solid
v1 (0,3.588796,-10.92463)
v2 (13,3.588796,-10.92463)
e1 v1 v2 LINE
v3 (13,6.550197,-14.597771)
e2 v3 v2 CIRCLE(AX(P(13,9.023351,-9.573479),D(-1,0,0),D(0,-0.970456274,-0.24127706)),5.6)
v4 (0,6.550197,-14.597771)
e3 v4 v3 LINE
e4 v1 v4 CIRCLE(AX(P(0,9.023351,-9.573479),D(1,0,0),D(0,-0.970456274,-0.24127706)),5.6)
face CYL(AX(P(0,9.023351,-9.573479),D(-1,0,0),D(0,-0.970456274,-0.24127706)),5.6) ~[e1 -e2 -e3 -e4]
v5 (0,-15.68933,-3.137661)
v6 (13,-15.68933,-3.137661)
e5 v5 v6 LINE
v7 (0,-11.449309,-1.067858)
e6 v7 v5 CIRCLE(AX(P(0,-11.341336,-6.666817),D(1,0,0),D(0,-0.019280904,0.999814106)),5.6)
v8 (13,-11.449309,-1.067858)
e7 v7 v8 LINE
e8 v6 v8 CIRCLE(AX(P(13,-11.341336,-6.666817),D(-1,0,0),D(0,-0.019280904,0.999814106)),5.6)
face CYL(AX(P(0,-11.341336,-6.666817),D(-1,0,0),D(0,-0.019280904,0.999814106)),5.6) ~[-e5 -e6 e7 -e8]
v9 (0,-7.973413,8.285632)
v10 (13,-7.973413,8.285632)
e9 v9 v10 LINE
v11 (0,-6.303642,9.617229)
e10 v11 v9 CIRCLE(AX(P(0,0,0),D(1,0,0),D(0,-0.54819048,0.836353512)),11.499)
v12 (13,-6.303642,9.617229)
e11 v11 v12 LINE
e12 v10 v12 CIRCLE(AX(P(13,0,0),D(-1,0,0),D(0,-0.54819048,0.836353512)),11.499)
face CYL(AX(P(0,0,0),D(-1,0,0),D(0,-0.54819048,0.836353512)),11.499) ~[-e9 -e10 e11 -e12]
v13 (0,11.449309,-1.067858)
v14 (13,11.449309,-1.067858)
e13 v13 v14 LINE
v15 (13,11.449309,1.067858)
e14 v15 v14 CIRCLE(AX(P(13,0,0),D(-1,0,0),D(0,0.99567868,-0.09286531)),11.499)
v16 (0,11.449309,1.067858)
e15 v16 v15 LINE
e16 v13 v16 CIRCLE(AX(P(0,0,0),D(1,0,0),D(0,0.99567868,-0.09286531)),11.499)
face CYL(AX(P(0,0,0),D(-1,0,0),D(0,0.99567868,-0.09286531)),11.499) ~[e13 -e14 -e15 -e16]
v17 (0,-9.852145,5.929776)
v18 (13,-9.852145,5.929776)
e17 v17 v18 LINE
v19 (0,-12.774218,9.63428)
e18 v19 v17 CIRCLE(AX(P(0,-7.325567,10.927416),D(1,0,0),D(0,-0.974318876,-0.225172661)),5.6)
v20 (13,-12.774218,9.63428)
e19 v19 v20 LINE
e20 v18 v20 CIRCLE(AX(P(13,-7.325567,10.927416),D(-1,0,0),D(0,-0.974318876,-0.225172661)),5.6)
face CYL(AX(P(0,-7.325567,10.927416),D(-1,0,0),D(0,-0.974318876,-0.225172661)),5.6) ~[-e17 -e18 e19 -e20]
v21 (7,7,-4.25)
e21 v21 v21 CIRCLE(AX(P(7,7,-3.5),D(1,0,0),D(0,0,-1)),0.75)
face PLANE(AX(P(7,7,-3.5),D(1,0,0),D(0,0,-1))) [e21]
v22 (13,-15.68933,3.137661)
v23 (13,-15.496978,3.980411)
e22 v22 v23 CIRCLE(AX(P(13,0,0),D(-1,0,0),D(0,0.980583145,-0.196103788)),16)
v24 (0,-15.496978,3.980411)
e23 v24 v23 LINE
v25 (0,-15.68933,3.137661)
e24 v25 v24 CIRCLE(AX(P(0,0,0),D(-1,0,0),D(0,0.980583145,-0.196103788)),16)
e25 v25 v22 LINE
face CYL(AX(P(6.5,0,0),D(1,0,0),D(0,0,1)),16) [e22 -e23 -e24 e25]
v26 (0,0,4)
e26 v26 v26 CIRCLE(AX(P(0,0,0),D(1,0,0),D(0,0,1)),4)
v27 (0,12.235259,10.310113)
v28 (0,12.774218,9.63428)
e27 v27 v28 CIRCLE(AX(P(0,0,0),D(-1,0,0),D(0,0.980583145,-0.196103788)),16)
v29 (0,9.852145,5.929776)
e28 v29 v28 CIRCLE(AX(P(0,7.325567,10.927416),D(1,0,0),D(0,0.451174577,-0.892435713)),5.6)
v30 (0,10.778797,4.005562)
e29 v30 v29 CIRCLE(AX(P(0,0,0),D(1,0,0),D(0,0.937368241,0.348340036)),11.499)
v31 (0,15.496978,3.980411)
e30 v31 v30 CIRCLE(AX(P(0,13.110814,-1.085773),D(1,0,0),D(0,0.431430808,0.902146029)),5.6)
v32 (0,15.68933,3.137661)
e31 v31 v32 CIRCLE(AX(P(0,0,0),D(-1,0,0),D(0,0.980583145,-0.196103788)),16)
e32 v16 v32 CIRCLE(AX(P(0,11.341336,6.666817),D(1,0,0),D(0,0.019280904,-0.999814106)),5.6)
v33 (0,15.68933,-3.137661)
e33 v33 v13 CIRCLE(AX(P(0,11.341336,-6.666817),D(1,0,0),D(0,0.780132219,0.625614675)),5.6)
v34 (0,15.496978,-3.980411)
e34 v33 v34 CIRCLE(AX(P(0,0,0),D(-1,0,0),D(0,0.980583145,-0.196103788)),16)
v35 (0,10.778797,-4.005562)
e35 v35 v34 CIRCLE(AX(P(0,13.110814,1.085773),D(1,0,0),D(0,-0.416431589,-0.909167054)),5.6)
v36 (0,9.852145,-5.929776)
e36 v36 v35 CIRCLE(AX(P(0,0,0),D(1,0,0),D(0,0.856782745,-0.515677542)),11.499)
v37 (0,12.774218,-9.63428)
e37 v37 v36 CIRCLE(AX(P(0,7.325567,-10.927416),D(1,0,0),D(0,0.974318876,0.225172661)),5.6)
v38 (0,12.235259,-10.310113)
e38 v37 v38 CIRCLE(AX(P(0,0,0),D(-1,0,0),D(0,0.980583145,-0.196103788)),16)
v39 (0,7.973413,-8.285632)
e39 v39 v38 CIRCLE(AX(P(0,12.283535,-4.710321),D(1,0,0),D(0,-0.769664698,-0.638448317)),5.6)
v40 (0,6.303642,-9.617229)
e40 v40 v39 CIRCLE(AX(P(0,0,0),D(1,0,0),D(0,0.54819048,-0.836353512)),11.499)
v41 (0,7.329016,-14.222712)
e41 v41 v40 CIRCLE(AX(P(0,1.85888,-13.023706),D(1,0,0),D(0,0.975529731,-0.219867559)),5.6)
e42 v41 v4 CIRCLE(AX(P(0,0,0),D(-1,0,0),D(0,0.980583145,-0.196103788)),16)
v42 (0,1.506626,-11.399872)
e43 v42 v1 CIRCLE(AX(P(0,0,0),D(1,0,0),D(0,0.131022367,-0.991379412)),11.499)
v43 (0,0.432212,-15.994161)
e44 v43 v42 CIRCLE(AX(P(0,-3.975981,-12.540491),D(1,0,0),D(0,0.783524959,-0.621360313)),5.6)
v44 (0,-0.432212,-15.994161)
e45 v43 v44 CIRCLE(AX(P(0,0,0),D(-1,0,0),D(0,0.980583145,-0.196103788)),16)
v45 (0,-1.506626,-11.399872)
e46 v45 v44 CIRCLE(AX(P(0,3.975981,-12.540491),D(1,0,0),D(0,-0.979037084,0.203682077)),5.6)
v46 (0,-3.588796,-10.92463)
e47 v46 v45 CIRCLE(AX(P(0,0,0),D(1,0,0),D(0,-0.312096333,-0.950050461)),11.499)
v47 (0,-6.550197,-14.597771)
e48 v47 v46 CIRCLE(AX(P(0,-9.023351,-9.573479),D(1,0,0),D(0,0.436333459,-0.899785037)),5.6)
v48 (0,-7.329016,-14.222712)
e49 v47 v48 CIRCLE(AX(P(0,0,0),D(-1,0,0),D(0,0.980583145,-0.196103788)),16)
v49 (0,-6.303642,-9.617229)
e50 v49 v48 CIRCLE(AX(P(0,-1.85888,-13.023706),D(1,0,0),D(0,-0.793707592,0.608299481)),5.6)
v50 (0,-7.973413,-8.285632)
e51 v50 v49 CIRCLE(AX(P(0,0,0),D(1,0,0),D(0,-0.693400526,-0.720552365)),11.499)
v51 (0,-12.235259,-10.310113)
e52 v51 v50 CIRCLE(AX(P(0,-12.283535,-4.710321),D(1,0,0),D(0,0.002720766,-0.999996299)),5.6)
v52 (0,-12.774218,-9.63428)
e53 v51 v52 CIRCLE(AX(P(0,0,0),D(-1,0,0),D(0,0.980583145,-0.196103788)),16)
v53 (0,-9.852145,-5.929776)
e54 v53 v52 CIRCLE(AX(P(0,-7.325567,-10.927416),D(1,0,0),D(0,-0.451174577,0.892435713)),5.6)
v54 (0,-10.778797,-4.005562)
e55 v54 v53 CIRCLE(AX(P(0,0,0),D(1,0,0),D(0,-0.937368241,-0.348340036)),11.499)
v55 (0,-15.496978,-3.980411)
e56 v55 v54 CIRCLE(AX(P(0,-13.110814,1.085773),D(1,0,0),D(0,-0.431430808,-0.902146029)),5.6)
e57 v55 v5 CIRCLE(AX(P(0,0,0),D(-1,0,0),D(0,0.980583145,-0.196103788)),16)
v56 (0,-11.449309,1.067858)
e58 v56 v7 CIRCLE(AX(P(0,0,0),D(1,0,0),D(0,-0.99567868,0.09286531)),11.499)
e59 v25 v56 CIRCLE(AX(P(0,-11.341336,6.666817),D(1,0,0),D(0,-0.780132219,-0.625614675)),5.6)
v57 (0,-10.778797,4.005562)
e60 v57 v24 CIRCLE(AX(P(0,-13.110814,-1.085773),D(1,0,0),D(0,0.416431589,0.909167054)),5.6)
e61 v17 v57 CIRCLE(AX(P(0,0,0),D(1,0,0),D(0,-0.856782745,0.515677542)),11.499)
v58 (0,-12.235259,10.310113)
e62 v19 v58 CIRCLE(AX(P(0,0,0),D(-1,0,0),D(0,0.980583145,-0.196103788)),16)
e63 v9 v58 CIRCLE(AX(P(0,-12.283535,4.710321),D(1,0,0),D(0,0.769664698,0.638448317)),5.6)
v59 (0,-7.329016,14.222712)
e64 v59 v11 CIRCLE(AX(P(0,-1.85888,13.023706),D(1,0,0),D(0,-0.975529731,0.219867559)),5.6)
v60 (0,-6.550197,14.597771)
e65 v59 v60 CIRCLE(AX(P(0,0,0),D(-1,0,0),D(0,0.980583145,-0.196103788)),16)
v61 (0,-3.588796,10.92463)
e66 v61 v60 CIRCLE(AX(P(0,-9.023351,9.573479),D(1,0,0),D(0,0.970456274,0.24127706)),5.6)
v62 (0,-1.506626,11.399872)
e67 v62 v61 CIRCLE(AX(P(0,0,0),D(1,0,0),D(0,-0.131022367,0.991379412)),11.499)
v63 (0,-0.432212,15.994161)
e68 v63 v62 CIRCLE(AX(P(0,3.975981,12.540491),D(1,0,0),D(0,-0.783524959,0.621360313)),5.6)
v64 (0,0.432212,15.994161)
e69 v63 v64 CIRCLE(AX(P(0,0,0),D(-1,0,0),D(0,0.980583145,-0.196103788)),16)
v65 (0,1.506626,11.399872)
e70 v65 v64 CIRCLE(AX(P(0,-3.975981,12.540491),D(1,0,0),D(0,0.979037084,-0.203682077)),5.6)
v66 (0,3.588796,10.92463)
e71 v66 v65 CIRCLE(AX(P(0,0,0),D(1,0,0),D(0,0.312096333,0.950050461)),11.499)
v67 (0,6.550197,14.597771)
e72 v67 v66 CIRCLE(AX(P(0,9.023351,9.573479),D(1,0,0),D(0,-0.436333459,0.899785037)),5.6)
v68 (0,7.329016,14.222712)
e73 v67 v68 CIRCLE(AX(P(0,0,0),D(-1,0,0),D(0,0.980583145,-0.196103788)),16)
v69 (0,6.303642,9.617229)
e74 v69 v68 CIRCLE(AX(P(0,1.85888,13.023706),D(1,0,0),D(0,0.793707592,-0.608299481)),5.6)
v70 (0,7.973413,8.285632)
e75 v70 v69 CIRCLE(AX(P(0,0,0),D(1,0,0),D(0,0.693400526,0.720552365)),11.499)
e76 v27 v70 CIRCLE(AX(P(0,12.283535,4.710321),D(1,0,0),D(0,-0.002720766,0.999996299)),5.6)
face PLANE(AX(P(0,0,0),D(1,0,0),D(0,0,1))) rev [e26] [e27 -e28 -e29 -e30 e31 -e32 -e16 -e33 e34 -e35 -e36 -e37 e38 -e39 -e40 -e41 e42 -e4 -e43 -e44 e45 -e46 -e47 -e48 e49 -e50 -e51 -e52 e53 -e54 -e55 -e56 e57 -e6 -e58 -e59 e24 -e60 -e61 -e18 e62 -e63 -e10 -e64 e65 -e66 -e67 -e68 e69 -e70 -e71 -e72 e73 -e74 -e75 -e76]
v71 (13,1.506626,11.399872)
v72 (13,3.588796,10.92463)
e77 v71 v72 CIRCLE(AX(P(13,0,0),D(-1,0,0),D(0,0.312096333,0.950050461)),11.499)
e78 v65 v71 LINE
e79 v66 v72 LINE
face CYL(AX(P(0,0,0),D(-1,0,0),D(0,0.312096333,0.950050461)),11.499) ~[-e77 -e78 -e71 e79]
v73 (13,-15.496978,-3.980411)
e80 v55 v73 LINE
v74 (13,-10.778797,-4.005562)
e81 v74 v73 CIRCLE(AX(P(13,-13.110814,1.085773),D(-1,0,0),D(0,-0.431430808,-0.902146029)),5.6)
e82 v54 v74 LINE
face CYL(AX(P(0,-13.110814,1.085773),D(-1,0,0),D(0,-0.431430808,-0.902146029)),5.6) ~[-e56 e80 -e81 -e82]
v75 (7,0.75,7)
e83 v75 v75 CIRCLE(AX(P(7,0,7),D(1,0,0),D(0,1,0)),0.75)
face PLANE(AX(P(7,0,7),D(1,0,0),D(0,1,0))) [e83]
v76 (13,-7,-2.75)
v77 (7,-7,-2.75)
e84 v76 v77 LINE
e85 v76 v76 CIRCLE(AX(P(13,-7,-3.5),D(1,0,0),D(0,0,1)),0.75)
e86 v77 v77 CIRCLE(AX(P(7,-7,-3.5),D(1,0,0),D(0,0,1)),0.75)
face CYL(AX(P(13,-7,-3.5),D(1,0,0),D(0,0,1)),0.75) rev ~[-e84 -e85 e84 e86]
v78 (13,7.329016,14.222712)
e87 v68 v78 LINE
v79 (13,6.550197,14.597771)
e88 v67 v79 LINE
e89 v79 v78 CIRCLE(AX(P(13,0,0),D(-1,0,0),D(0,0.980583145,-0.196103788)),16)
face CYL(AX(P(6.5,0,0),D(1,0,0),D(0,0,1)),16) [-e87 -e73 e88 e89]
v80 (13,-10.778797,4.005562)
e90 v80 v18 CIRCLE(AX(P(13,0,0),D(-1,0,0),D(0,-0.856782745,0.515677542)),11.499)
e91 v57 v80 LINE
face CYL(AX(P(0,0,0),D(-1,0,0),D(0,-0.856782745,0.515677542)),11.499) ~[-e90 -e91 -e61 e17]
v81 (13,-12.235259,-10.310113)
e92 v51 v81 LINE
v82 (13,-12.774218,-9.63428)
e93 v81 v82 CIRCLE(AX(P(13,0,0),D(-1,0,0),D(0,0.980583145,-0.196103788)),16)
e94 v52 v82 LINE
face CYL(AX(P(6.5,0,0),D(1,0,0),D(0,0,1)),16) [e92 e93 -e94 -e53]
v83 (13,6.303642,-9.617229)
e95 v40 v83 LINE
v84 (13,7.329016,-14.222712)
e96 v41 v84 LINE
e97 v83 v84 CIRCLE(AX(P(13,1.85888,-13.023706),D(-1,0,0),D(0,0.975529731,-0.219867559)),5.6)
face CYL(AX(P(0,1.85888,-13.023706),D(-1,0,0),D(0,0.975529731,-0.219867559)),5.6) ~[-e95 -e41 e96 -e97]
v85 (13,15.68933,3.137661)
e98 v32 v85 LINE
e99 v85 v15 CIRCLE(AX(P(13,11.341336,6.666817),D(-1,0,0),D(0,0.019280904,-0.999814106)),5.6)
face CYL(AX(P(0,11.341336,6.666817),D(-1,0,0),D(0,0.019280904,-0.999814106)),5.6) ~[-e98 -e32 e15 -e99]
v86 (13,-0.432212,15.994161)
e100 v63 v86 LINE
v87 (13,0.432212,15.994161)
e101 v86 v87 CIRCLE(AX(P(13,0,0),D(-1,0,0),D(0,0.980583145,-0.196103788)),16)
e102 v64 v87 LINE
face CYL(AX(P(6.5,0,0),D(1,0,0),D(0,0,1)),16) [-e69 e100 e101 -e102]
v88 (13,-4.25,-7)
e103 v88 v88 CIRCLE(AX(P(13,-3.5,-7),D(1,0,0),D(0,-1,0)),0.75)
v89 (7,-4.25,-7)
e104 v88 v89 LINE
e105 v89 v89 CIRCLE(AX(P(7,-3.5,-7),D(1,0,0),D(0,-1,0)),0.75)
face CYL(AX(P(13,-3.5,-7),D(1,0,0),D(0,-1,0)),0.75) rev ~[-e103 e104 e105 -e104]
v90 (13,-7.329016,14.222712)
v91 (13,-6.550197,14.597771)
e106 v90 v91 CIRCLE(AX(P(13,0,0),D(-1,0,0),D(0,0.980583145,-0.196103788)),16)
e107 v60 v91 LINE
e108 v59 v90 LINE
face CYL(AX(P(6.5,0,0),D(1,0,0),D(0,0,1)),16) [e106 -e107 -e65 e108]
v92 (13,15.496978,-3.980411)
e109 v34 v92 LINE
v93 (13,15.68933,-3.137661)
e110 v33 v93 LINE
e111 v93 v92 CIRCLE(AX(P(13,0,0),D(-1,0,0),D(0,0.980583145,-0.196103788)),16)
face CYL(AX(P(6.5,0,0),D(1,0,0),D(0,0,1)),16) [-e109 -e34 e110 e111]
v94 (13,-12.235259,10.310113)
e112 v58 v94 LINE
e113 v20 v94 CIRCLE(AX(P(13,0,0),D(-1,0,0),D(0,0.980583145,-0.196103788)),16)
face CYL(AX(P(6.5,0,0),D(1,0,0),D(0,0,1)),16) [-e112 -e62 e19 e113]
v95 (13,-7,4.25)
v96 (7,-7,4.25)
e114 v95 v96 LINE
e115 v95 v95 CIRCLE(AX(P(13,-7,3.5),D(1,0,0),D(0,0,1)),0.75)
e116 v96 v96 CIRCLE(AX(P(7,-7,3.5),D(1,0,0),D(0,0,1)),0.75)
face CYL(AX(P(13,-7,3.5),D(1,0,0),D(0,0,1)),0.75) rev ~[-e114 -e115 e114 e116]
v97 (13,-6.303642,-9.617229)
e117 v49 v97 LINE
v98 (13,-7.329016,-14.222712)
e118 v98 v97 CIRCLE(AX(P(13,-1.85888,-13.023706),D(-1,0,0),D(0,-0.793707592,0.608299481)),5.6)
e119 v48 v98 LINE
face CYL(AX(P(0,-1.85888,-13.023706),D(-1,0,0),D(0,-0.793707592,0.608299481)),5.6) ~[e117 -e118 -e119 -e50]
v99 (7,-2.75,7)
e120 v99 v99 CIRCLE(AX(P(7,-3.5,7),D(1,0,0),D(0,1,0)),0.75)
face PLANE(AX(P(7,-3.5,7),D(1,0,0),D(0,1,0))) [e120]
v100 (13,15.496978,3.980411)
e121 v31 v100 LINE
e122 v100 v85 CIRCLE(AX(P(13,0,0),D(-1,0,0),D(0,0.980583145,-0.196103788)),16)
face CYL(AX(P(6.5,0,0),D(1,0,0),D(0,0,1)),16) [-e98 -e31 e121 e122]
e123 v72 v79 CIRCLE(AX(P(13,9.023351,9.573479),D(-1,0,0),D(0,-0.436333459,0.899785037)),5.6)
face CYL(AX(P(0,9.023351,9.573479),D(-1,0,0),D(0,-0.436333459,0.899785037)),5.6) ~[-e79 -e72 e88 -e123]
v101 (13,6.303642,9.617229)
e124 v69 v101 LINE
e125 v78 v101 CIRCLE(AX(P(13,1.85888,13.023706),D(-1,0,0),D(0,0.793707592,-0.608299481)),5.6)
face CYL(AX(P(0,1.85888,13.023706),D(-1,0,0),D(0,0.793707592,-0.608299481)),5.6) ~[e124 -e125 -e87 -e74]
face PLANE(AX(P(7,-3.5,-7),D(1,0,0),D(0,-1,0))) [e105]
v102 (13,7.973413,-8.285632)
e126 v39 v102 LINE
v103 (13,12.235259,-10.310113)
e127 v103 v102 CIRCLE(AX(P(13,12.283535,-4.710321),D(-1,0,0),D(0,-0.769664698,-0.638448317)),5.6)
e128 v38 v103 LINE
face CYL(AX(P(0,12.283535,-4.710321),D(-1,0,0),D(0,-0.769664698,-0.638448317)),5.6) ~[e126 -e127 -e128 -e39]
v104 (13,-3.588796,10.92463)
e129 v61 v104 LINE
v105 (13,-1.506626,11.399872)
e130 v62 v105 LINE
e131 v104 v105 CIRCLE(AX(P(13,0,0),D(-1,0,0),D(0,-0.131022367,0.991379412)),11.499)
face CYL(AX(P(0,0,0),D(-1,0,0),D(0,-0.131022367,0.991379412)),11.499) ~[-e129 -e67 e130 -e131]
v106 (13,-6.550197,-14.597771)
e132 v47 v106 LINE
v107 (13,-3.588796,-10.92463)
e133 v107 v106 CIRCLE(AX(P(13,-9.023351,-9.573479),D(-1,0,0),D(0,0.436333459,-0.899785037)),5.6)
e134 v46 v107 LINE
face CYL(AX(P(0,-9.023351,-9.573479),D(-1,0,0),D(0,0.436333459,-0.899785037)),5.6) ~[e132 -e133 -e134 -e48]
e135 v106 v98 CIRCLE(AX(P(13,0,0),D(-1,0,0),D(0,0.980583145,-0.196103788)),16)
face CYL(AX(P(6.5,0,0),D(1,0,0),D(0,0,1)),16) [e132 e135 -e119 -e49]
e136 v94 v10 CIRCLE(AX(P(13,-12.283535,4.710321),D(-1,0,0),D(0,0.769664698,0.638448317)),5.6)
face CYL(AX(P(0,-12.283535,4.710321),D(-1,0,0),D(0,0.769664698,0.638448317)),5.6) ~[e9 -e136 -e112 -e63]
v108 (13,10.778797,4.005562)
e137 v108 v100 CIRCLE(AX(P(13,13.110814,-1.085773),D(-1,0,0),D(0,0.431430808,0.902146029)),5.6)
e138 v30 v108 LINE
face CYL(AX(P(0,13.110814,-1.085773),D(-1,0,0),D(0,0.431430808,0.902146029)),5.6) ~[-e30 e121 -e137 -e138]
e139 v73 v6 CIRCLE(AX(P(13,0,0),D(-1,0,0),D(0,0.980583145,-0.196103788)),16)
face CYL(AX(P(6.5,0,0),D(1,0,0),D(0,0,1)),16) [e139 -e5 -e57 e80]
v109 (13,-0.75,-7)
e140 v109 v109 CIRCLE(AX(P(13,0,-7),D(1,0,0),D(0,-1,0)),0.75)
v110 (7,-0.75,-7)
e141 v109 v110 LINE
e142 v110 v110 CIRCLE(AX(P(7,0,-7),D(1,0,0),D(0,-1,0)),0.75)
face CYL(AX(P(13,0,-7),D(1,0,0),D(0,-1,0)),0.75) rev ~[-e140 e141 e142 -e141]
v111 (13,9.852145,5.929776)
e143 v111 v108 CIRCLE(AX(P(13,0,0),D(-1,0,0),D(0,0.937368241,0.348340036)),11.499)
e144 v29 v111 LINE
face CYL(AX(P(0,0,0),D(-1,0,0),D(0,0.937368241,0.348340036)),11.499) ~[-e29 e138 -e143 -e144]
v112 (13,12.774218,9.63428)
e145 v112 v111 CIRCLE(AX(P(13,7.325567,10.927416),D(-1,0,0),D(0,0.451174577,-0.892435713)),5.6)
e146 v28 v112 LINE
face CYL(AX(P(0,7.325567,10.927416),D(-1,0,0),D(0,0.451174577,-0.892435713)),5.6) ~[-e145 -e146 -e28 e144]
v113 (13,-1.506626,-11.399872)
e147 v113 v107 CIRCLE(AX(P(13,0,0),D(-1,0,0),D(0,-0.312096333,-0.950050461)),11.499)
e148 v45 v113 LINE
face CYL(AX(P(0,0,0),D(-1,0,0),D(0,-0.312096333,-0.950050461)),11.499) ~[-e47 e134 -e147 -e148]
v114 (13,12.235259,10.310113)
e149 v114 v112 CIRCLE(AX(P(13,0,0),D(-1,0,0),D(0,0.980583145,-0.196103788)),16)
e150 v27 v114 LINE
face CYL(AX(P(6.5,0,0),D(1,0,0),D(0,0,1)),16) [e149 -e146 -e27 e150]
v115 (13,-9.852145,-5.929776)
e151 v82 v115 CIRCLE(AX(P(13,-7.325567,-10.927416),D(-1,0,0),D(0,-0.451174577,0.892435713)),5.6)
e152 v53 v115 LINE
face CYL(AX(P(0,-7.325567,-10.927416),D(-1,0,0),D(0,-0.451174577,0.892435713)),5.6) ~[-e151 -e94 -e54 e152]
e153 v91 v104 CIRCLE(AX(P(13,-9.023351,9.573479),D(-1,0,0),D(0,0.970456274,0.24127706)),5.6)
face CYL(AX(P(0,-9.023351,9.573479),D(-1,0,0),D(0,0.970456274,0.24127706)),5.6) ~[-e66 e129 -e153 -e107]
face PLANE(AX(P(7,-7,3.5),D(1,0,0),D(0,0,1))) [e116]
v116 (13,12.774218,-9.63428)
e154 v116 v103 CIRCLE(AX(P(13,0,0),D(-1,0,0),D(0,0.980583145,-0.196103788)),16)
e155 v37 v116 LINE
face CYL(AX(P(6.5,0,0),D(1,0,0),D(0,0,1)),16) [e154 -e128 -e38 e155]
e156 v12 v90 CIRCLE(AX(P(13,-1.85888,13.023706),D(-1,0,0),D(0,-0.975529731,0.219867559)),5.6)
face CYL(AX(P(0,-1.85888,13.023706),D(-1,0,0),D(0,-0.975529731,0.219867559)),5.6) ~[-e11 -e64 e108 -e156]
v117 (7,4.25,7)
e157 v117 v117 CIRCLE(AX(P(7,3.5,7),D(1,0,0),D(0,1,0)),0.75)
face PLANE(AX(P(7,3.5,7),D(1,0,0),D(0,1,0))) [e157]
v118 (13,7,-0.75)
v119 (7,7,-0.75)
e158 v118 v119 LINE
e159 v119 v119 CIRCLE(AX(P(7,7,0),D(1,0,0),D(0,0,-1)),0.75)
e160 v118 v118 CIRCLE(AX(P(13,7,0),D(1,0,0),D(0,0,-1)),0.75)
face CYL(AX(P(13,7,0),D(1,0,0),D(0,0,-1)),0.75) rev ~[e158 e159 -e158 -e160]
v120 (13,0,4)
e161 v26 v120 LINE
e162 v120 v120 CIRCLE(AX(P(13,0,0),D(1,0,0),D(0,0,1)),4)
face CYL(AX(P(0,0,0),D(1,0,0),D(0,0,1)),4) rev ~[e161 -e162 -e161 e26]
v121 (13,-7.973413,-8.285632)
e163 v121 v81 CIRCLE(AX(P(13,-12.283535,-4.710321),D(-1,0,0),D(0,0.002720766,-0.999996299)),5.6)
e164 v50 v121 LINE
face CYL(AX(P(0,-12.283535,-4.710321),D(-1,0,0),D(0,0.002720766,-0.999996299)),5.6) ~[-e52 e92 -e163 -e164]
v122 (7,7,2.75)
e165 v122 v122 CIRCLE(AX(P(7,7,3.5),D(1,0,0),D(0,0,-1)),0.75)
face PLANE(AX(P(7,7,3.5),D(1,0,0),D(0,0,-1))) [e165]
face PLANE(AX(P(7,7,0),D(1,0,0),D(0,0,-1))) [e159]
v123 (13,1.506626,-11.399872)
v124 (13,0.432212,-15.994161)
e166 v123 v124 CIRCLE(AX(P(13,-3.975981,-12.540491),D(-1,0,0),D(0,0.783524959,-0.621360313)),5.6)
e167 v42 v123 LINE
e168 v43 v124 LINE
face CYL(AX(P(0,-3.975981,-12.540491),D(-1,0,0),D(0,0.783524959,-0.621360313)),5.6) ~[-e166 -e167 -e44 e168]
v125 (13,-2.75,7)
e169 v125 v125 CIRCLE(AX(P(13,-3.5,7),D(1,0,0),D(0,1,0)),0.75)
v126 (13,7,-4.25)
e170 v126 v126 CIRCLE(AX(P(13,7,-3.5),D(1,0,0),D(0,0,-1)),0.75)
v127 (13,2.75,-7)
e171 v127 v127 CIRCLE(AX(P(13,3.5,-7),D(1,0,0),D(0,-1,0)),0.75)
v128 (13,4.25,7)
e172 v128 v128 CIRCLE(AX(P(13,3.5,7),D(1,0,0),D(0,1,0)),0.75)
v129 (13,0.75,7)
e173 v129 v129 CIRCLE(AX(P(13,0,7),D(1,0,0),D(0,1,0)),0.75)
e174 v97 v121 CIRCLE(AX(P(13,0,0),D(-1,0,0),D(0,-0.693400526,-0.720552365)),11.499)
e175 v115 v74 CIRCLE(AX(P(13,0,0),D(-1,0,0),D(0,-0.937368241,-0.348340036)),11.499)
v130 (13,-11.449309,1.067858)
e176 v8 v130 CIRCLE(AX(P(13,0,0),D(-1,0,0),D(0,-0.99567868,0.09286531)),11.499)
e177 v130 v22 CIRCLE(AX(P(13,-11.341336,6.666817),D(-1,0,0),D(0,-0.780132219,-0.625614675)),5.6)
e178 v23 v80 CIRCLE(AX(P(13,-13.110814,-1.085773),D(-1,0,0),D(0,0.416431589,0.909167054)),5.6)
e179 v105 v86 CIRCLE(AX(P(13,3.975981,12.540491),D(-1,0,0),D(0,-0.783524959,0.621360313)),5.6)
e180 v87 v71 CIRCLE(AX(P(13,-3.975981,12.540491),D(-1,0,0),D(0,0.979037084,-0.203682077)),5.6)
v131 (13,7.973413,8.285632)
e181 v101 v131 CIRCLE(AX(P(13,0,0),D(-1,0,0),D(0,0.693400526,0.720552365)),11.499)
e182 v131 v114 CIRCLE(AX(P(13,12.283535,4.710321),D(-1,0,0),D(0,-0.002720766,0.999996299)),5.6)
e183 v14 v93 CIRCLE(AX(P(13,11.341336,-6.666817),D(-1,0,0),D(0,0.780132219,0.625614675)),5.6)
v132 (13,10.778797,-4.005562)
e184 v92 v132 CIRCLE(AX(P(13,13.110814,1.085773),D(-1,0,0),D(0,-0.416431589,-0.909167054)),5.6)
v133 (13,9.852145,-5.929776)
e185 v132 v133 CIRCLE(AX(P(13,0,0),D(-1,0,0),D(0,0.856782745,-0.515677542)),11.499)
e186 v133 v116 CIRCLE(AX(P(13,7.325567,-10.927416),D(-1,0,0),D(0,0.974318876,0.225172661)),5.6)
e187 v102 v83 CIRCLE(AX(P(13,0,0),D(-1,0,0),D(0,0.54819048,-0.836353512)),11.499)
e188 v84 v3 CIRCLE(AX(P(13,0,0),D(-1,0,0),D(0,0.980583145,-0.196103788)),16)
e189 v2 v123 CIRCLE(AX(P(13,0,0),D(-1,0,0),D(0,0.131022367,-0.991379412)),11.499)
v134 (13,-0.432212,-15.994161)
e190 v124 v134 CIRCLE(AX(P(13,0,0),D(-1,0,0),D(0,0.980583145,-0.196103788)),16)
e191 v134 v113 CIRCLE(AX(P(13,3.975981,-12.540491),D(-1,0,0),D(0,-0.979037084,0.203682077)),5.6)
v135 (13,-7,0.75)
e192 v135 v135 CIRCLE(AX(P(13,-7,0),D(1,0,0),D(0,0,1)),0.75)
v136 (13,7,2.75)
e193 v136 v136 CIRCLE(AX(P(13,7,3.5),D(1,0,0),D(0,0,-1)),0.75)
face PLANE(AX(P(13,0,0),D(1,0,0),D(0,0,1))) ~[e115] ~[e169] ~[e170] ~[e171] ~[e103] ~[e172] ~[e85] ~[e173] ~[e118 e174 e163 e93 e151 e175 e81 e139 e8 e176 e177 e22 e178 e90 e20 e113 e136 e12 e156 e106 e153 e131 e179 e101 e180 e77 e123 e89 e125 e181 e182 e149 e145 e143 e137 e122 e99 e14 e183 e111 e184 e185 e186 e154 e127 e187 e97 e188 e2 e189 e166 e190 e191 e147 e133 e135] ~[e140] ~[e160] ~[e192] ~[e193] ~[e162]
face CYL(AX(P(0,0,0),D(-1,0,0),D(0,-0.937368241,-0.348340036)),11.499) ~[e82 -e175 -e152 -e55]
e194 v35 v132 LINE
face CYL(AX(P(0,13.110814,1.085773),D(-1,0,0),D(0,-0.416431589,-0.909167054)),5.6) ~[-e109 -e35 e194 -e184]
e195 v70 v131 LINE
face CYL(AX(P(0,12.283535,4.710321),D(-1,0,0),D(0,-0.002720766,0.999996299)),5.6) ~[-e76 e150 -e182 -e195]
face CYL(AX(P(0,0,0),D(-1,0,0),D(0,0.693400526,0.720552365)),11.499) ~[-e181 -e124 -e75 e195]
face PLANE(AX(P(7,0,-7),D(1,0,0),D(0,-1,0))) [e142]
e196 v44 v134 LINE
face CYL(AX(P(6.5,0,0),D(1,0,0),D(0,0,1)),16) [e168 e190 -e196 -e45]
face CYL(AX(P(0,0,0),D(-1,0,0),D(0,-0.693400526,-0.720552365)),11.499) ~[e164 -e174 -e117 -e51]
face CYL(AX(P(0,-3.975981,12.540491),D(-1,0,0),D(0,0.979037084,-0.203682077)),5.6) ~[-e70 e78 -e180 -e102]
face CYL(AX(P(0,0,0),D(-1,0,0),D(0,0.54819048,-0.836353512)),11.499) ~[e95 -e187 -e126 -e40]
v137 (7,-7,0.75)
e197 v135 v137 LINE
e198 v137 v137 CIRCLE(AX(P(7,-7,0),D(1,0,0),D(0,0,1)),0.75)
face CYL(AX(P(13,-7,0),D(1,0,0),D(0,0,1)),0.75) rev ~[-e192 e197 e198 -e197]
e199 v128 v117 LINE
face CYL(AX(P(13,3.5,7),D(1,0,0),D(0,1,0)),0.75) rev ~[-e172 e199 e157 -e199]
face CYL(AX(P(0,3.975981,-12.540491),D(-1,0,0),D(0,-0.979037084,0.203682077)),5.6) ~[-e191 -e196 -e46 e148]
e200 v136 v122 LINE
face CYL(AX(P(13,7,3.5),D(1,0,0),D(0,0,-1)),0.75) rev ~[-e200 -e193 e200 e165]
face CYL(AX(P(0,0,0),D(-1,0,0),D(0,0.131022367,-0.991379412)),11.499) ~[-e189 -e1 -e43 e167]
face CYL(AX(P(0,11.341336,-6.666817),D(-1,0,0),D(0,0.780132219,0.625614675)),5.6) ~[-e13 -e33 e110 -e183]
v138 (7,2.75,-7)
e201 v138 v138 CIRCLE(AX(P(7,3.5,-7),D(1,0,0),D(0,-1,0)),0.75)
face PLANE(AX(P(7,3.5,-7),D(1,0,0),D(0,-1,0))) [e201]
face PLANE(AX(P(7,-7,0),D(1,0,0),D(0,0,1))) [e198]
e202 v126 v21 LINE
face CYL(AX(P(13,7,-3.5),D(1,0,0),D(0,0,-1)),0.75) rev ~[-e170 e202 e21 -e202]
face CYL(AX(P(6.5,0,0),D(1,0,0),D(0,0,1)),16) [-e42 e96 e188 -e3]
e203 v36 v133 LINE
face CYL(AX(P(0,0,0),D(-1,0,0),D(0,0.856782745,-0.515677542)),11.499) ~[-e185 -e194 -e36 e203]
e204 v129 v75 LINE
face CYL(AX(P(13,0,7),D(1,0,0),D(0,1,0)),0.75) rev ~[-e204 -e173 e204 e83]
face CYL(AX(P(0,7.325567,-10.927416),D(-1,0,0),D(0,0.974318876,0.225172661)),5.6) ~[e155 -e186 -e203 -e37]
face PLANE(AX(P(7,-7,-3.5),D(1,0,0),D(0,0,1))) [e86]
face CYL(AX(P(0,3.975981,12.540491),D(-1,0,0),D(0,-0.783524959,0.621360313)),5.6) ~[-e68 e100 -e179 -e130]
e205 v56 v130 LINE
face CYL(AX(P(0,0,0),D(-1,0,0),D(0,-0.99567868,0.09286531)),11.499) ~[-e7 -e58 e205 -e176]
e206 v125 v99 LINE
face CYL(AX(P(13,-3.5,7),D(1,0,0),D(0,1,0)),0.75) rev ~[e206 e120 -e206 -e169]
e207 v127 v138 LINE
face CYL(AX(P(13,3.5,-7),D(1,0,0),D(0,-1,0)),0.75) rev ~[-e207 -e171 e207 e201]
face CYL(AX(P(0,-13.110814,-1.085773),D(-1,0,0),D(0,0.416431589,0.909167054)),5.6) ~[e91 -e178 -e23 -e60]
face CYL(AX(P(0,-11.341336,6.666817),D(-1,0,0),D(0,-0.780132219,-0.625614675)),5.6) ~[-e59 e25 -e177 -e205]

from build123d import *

# Parameters (mm, degrees)
BASPROSKE_W        = 13
BASPROSKE_H        = 16
TOOTHCUT_DEPTH     = 27.095976701
TEETHCUTS_COUNT    = 14
TEETHCUTS_ANGLE    = 334.285714286
BORSKE_R           = 4
BORE_DEPTH         = 50.0005588
SKETCH2_R          = 0.75
CUT_EXTRUDE1_DEPTH = 6
CIRPATTERN1_COUNT  = 4


with BuildPart() as part:
    # BasProSke → Base-Revolve (revolve)
    with BuildSketch(Plane(origin=(0, 0, 0), x_dir=(1, 0, 0), z_dir=(0, 1, 0)), mode=Mode.PRIVATE) as base_revolve_sk:
        with Locations((6.5, 8)):
            Rectangle(BASPROSKE_W, BASPROSKE_H)
    revolve(base_revolve_sk.sketch.rotate(Axis((-10, 0, 0), (1, 0, 0)), 180), axis=Axis((-10, 0, 0), (1, 0, 0)))

    # TooCutSke → ToothCut (cut, through all)
    with BuildSketch(Plane(origin=(0, 0, 0), x_dir=(0, 0, -1), z_dir=(1, 0, 0))):
        with BuildLine():
            ThreePointArc((1.067858192, 11.449309144), (0, 11.499), (-1.067858192, 11.449309144))
            ThreePointArc((-1.067858192, 11.449309144), (-1.641684211, 13.812780716), (-3.163375005, 15.710076503))
            ThreePointArc((-3.163375005, 15.710076503), (0, 16.0254), (3.163375005, 15.710076503))
            ThreePointArc((3.163375005, 15.710076503), (1.641684211, 13.812780716), (1.067858192, 11.449309144))
        make_face()
    toothcut = extrude(amount=TOOTHCUT_DEPTH, mode=Mode.SUBTRACT)

    # TeethCuts: ToothCut ×14 about axis
    teethcuts_axis = Axis((-10, 0, 0), (1, 0, 0))
    for i in range(1, TEETHCUTS_COUNT):
        add(toothcut.rotate(teethcuts_axis, i * TEETHCUTS_ANGLE / (TEETHCUTS_COUNT - 1)), mode=Mode.SUBTRACT)

    # BorSke → Bore (cut, symmetric)
    with BuildSketch(Plane(origin=(0, 0, 0), x_dir=(0, 0, -1), z_dir=(1, 0, 0))):
        with Locations(Location((0, 0, 0), (0, 0, 180))):
            Circle(BORSKE_R)
    extrude(amount=BORE_DEPTH, both=True, mode=Mode.SUBTRACT)

    # Sketch2 → Cut-Extrude1 (cut)
    with BuildSketch(Plane(origin=(13, 0, 0), x_dir=(0, 0, -1), z_dir=(1, 0, 0))):
        with Locations((-3.5, 7)):
            Circle(SKETCH2_R)
        with Locations((0, 7)):
            Circle(SKETCH2_R)
        with Locations((3.5, 7)):
            Circle(SKETCH2_R)
    cut_extrude1 = extrude(amount=-CUT_EXTRUDE1_DEPTH, mode=Mode.SUBTRACT)

    # CirPattern1: Cut-Extrude1 ×4 about axis
    cirpattern1_axis = Axis((0, 0, 0), (1, 0, 0))
    for i in range(1, CIRPATTERN1_COUNT):
        add(cut_extrude1.rotate(cirpattern1_axis, i * 360 / CIRPATTERN1_COUNT), mode=Mode.SUBTRACT)


solid = part.part
